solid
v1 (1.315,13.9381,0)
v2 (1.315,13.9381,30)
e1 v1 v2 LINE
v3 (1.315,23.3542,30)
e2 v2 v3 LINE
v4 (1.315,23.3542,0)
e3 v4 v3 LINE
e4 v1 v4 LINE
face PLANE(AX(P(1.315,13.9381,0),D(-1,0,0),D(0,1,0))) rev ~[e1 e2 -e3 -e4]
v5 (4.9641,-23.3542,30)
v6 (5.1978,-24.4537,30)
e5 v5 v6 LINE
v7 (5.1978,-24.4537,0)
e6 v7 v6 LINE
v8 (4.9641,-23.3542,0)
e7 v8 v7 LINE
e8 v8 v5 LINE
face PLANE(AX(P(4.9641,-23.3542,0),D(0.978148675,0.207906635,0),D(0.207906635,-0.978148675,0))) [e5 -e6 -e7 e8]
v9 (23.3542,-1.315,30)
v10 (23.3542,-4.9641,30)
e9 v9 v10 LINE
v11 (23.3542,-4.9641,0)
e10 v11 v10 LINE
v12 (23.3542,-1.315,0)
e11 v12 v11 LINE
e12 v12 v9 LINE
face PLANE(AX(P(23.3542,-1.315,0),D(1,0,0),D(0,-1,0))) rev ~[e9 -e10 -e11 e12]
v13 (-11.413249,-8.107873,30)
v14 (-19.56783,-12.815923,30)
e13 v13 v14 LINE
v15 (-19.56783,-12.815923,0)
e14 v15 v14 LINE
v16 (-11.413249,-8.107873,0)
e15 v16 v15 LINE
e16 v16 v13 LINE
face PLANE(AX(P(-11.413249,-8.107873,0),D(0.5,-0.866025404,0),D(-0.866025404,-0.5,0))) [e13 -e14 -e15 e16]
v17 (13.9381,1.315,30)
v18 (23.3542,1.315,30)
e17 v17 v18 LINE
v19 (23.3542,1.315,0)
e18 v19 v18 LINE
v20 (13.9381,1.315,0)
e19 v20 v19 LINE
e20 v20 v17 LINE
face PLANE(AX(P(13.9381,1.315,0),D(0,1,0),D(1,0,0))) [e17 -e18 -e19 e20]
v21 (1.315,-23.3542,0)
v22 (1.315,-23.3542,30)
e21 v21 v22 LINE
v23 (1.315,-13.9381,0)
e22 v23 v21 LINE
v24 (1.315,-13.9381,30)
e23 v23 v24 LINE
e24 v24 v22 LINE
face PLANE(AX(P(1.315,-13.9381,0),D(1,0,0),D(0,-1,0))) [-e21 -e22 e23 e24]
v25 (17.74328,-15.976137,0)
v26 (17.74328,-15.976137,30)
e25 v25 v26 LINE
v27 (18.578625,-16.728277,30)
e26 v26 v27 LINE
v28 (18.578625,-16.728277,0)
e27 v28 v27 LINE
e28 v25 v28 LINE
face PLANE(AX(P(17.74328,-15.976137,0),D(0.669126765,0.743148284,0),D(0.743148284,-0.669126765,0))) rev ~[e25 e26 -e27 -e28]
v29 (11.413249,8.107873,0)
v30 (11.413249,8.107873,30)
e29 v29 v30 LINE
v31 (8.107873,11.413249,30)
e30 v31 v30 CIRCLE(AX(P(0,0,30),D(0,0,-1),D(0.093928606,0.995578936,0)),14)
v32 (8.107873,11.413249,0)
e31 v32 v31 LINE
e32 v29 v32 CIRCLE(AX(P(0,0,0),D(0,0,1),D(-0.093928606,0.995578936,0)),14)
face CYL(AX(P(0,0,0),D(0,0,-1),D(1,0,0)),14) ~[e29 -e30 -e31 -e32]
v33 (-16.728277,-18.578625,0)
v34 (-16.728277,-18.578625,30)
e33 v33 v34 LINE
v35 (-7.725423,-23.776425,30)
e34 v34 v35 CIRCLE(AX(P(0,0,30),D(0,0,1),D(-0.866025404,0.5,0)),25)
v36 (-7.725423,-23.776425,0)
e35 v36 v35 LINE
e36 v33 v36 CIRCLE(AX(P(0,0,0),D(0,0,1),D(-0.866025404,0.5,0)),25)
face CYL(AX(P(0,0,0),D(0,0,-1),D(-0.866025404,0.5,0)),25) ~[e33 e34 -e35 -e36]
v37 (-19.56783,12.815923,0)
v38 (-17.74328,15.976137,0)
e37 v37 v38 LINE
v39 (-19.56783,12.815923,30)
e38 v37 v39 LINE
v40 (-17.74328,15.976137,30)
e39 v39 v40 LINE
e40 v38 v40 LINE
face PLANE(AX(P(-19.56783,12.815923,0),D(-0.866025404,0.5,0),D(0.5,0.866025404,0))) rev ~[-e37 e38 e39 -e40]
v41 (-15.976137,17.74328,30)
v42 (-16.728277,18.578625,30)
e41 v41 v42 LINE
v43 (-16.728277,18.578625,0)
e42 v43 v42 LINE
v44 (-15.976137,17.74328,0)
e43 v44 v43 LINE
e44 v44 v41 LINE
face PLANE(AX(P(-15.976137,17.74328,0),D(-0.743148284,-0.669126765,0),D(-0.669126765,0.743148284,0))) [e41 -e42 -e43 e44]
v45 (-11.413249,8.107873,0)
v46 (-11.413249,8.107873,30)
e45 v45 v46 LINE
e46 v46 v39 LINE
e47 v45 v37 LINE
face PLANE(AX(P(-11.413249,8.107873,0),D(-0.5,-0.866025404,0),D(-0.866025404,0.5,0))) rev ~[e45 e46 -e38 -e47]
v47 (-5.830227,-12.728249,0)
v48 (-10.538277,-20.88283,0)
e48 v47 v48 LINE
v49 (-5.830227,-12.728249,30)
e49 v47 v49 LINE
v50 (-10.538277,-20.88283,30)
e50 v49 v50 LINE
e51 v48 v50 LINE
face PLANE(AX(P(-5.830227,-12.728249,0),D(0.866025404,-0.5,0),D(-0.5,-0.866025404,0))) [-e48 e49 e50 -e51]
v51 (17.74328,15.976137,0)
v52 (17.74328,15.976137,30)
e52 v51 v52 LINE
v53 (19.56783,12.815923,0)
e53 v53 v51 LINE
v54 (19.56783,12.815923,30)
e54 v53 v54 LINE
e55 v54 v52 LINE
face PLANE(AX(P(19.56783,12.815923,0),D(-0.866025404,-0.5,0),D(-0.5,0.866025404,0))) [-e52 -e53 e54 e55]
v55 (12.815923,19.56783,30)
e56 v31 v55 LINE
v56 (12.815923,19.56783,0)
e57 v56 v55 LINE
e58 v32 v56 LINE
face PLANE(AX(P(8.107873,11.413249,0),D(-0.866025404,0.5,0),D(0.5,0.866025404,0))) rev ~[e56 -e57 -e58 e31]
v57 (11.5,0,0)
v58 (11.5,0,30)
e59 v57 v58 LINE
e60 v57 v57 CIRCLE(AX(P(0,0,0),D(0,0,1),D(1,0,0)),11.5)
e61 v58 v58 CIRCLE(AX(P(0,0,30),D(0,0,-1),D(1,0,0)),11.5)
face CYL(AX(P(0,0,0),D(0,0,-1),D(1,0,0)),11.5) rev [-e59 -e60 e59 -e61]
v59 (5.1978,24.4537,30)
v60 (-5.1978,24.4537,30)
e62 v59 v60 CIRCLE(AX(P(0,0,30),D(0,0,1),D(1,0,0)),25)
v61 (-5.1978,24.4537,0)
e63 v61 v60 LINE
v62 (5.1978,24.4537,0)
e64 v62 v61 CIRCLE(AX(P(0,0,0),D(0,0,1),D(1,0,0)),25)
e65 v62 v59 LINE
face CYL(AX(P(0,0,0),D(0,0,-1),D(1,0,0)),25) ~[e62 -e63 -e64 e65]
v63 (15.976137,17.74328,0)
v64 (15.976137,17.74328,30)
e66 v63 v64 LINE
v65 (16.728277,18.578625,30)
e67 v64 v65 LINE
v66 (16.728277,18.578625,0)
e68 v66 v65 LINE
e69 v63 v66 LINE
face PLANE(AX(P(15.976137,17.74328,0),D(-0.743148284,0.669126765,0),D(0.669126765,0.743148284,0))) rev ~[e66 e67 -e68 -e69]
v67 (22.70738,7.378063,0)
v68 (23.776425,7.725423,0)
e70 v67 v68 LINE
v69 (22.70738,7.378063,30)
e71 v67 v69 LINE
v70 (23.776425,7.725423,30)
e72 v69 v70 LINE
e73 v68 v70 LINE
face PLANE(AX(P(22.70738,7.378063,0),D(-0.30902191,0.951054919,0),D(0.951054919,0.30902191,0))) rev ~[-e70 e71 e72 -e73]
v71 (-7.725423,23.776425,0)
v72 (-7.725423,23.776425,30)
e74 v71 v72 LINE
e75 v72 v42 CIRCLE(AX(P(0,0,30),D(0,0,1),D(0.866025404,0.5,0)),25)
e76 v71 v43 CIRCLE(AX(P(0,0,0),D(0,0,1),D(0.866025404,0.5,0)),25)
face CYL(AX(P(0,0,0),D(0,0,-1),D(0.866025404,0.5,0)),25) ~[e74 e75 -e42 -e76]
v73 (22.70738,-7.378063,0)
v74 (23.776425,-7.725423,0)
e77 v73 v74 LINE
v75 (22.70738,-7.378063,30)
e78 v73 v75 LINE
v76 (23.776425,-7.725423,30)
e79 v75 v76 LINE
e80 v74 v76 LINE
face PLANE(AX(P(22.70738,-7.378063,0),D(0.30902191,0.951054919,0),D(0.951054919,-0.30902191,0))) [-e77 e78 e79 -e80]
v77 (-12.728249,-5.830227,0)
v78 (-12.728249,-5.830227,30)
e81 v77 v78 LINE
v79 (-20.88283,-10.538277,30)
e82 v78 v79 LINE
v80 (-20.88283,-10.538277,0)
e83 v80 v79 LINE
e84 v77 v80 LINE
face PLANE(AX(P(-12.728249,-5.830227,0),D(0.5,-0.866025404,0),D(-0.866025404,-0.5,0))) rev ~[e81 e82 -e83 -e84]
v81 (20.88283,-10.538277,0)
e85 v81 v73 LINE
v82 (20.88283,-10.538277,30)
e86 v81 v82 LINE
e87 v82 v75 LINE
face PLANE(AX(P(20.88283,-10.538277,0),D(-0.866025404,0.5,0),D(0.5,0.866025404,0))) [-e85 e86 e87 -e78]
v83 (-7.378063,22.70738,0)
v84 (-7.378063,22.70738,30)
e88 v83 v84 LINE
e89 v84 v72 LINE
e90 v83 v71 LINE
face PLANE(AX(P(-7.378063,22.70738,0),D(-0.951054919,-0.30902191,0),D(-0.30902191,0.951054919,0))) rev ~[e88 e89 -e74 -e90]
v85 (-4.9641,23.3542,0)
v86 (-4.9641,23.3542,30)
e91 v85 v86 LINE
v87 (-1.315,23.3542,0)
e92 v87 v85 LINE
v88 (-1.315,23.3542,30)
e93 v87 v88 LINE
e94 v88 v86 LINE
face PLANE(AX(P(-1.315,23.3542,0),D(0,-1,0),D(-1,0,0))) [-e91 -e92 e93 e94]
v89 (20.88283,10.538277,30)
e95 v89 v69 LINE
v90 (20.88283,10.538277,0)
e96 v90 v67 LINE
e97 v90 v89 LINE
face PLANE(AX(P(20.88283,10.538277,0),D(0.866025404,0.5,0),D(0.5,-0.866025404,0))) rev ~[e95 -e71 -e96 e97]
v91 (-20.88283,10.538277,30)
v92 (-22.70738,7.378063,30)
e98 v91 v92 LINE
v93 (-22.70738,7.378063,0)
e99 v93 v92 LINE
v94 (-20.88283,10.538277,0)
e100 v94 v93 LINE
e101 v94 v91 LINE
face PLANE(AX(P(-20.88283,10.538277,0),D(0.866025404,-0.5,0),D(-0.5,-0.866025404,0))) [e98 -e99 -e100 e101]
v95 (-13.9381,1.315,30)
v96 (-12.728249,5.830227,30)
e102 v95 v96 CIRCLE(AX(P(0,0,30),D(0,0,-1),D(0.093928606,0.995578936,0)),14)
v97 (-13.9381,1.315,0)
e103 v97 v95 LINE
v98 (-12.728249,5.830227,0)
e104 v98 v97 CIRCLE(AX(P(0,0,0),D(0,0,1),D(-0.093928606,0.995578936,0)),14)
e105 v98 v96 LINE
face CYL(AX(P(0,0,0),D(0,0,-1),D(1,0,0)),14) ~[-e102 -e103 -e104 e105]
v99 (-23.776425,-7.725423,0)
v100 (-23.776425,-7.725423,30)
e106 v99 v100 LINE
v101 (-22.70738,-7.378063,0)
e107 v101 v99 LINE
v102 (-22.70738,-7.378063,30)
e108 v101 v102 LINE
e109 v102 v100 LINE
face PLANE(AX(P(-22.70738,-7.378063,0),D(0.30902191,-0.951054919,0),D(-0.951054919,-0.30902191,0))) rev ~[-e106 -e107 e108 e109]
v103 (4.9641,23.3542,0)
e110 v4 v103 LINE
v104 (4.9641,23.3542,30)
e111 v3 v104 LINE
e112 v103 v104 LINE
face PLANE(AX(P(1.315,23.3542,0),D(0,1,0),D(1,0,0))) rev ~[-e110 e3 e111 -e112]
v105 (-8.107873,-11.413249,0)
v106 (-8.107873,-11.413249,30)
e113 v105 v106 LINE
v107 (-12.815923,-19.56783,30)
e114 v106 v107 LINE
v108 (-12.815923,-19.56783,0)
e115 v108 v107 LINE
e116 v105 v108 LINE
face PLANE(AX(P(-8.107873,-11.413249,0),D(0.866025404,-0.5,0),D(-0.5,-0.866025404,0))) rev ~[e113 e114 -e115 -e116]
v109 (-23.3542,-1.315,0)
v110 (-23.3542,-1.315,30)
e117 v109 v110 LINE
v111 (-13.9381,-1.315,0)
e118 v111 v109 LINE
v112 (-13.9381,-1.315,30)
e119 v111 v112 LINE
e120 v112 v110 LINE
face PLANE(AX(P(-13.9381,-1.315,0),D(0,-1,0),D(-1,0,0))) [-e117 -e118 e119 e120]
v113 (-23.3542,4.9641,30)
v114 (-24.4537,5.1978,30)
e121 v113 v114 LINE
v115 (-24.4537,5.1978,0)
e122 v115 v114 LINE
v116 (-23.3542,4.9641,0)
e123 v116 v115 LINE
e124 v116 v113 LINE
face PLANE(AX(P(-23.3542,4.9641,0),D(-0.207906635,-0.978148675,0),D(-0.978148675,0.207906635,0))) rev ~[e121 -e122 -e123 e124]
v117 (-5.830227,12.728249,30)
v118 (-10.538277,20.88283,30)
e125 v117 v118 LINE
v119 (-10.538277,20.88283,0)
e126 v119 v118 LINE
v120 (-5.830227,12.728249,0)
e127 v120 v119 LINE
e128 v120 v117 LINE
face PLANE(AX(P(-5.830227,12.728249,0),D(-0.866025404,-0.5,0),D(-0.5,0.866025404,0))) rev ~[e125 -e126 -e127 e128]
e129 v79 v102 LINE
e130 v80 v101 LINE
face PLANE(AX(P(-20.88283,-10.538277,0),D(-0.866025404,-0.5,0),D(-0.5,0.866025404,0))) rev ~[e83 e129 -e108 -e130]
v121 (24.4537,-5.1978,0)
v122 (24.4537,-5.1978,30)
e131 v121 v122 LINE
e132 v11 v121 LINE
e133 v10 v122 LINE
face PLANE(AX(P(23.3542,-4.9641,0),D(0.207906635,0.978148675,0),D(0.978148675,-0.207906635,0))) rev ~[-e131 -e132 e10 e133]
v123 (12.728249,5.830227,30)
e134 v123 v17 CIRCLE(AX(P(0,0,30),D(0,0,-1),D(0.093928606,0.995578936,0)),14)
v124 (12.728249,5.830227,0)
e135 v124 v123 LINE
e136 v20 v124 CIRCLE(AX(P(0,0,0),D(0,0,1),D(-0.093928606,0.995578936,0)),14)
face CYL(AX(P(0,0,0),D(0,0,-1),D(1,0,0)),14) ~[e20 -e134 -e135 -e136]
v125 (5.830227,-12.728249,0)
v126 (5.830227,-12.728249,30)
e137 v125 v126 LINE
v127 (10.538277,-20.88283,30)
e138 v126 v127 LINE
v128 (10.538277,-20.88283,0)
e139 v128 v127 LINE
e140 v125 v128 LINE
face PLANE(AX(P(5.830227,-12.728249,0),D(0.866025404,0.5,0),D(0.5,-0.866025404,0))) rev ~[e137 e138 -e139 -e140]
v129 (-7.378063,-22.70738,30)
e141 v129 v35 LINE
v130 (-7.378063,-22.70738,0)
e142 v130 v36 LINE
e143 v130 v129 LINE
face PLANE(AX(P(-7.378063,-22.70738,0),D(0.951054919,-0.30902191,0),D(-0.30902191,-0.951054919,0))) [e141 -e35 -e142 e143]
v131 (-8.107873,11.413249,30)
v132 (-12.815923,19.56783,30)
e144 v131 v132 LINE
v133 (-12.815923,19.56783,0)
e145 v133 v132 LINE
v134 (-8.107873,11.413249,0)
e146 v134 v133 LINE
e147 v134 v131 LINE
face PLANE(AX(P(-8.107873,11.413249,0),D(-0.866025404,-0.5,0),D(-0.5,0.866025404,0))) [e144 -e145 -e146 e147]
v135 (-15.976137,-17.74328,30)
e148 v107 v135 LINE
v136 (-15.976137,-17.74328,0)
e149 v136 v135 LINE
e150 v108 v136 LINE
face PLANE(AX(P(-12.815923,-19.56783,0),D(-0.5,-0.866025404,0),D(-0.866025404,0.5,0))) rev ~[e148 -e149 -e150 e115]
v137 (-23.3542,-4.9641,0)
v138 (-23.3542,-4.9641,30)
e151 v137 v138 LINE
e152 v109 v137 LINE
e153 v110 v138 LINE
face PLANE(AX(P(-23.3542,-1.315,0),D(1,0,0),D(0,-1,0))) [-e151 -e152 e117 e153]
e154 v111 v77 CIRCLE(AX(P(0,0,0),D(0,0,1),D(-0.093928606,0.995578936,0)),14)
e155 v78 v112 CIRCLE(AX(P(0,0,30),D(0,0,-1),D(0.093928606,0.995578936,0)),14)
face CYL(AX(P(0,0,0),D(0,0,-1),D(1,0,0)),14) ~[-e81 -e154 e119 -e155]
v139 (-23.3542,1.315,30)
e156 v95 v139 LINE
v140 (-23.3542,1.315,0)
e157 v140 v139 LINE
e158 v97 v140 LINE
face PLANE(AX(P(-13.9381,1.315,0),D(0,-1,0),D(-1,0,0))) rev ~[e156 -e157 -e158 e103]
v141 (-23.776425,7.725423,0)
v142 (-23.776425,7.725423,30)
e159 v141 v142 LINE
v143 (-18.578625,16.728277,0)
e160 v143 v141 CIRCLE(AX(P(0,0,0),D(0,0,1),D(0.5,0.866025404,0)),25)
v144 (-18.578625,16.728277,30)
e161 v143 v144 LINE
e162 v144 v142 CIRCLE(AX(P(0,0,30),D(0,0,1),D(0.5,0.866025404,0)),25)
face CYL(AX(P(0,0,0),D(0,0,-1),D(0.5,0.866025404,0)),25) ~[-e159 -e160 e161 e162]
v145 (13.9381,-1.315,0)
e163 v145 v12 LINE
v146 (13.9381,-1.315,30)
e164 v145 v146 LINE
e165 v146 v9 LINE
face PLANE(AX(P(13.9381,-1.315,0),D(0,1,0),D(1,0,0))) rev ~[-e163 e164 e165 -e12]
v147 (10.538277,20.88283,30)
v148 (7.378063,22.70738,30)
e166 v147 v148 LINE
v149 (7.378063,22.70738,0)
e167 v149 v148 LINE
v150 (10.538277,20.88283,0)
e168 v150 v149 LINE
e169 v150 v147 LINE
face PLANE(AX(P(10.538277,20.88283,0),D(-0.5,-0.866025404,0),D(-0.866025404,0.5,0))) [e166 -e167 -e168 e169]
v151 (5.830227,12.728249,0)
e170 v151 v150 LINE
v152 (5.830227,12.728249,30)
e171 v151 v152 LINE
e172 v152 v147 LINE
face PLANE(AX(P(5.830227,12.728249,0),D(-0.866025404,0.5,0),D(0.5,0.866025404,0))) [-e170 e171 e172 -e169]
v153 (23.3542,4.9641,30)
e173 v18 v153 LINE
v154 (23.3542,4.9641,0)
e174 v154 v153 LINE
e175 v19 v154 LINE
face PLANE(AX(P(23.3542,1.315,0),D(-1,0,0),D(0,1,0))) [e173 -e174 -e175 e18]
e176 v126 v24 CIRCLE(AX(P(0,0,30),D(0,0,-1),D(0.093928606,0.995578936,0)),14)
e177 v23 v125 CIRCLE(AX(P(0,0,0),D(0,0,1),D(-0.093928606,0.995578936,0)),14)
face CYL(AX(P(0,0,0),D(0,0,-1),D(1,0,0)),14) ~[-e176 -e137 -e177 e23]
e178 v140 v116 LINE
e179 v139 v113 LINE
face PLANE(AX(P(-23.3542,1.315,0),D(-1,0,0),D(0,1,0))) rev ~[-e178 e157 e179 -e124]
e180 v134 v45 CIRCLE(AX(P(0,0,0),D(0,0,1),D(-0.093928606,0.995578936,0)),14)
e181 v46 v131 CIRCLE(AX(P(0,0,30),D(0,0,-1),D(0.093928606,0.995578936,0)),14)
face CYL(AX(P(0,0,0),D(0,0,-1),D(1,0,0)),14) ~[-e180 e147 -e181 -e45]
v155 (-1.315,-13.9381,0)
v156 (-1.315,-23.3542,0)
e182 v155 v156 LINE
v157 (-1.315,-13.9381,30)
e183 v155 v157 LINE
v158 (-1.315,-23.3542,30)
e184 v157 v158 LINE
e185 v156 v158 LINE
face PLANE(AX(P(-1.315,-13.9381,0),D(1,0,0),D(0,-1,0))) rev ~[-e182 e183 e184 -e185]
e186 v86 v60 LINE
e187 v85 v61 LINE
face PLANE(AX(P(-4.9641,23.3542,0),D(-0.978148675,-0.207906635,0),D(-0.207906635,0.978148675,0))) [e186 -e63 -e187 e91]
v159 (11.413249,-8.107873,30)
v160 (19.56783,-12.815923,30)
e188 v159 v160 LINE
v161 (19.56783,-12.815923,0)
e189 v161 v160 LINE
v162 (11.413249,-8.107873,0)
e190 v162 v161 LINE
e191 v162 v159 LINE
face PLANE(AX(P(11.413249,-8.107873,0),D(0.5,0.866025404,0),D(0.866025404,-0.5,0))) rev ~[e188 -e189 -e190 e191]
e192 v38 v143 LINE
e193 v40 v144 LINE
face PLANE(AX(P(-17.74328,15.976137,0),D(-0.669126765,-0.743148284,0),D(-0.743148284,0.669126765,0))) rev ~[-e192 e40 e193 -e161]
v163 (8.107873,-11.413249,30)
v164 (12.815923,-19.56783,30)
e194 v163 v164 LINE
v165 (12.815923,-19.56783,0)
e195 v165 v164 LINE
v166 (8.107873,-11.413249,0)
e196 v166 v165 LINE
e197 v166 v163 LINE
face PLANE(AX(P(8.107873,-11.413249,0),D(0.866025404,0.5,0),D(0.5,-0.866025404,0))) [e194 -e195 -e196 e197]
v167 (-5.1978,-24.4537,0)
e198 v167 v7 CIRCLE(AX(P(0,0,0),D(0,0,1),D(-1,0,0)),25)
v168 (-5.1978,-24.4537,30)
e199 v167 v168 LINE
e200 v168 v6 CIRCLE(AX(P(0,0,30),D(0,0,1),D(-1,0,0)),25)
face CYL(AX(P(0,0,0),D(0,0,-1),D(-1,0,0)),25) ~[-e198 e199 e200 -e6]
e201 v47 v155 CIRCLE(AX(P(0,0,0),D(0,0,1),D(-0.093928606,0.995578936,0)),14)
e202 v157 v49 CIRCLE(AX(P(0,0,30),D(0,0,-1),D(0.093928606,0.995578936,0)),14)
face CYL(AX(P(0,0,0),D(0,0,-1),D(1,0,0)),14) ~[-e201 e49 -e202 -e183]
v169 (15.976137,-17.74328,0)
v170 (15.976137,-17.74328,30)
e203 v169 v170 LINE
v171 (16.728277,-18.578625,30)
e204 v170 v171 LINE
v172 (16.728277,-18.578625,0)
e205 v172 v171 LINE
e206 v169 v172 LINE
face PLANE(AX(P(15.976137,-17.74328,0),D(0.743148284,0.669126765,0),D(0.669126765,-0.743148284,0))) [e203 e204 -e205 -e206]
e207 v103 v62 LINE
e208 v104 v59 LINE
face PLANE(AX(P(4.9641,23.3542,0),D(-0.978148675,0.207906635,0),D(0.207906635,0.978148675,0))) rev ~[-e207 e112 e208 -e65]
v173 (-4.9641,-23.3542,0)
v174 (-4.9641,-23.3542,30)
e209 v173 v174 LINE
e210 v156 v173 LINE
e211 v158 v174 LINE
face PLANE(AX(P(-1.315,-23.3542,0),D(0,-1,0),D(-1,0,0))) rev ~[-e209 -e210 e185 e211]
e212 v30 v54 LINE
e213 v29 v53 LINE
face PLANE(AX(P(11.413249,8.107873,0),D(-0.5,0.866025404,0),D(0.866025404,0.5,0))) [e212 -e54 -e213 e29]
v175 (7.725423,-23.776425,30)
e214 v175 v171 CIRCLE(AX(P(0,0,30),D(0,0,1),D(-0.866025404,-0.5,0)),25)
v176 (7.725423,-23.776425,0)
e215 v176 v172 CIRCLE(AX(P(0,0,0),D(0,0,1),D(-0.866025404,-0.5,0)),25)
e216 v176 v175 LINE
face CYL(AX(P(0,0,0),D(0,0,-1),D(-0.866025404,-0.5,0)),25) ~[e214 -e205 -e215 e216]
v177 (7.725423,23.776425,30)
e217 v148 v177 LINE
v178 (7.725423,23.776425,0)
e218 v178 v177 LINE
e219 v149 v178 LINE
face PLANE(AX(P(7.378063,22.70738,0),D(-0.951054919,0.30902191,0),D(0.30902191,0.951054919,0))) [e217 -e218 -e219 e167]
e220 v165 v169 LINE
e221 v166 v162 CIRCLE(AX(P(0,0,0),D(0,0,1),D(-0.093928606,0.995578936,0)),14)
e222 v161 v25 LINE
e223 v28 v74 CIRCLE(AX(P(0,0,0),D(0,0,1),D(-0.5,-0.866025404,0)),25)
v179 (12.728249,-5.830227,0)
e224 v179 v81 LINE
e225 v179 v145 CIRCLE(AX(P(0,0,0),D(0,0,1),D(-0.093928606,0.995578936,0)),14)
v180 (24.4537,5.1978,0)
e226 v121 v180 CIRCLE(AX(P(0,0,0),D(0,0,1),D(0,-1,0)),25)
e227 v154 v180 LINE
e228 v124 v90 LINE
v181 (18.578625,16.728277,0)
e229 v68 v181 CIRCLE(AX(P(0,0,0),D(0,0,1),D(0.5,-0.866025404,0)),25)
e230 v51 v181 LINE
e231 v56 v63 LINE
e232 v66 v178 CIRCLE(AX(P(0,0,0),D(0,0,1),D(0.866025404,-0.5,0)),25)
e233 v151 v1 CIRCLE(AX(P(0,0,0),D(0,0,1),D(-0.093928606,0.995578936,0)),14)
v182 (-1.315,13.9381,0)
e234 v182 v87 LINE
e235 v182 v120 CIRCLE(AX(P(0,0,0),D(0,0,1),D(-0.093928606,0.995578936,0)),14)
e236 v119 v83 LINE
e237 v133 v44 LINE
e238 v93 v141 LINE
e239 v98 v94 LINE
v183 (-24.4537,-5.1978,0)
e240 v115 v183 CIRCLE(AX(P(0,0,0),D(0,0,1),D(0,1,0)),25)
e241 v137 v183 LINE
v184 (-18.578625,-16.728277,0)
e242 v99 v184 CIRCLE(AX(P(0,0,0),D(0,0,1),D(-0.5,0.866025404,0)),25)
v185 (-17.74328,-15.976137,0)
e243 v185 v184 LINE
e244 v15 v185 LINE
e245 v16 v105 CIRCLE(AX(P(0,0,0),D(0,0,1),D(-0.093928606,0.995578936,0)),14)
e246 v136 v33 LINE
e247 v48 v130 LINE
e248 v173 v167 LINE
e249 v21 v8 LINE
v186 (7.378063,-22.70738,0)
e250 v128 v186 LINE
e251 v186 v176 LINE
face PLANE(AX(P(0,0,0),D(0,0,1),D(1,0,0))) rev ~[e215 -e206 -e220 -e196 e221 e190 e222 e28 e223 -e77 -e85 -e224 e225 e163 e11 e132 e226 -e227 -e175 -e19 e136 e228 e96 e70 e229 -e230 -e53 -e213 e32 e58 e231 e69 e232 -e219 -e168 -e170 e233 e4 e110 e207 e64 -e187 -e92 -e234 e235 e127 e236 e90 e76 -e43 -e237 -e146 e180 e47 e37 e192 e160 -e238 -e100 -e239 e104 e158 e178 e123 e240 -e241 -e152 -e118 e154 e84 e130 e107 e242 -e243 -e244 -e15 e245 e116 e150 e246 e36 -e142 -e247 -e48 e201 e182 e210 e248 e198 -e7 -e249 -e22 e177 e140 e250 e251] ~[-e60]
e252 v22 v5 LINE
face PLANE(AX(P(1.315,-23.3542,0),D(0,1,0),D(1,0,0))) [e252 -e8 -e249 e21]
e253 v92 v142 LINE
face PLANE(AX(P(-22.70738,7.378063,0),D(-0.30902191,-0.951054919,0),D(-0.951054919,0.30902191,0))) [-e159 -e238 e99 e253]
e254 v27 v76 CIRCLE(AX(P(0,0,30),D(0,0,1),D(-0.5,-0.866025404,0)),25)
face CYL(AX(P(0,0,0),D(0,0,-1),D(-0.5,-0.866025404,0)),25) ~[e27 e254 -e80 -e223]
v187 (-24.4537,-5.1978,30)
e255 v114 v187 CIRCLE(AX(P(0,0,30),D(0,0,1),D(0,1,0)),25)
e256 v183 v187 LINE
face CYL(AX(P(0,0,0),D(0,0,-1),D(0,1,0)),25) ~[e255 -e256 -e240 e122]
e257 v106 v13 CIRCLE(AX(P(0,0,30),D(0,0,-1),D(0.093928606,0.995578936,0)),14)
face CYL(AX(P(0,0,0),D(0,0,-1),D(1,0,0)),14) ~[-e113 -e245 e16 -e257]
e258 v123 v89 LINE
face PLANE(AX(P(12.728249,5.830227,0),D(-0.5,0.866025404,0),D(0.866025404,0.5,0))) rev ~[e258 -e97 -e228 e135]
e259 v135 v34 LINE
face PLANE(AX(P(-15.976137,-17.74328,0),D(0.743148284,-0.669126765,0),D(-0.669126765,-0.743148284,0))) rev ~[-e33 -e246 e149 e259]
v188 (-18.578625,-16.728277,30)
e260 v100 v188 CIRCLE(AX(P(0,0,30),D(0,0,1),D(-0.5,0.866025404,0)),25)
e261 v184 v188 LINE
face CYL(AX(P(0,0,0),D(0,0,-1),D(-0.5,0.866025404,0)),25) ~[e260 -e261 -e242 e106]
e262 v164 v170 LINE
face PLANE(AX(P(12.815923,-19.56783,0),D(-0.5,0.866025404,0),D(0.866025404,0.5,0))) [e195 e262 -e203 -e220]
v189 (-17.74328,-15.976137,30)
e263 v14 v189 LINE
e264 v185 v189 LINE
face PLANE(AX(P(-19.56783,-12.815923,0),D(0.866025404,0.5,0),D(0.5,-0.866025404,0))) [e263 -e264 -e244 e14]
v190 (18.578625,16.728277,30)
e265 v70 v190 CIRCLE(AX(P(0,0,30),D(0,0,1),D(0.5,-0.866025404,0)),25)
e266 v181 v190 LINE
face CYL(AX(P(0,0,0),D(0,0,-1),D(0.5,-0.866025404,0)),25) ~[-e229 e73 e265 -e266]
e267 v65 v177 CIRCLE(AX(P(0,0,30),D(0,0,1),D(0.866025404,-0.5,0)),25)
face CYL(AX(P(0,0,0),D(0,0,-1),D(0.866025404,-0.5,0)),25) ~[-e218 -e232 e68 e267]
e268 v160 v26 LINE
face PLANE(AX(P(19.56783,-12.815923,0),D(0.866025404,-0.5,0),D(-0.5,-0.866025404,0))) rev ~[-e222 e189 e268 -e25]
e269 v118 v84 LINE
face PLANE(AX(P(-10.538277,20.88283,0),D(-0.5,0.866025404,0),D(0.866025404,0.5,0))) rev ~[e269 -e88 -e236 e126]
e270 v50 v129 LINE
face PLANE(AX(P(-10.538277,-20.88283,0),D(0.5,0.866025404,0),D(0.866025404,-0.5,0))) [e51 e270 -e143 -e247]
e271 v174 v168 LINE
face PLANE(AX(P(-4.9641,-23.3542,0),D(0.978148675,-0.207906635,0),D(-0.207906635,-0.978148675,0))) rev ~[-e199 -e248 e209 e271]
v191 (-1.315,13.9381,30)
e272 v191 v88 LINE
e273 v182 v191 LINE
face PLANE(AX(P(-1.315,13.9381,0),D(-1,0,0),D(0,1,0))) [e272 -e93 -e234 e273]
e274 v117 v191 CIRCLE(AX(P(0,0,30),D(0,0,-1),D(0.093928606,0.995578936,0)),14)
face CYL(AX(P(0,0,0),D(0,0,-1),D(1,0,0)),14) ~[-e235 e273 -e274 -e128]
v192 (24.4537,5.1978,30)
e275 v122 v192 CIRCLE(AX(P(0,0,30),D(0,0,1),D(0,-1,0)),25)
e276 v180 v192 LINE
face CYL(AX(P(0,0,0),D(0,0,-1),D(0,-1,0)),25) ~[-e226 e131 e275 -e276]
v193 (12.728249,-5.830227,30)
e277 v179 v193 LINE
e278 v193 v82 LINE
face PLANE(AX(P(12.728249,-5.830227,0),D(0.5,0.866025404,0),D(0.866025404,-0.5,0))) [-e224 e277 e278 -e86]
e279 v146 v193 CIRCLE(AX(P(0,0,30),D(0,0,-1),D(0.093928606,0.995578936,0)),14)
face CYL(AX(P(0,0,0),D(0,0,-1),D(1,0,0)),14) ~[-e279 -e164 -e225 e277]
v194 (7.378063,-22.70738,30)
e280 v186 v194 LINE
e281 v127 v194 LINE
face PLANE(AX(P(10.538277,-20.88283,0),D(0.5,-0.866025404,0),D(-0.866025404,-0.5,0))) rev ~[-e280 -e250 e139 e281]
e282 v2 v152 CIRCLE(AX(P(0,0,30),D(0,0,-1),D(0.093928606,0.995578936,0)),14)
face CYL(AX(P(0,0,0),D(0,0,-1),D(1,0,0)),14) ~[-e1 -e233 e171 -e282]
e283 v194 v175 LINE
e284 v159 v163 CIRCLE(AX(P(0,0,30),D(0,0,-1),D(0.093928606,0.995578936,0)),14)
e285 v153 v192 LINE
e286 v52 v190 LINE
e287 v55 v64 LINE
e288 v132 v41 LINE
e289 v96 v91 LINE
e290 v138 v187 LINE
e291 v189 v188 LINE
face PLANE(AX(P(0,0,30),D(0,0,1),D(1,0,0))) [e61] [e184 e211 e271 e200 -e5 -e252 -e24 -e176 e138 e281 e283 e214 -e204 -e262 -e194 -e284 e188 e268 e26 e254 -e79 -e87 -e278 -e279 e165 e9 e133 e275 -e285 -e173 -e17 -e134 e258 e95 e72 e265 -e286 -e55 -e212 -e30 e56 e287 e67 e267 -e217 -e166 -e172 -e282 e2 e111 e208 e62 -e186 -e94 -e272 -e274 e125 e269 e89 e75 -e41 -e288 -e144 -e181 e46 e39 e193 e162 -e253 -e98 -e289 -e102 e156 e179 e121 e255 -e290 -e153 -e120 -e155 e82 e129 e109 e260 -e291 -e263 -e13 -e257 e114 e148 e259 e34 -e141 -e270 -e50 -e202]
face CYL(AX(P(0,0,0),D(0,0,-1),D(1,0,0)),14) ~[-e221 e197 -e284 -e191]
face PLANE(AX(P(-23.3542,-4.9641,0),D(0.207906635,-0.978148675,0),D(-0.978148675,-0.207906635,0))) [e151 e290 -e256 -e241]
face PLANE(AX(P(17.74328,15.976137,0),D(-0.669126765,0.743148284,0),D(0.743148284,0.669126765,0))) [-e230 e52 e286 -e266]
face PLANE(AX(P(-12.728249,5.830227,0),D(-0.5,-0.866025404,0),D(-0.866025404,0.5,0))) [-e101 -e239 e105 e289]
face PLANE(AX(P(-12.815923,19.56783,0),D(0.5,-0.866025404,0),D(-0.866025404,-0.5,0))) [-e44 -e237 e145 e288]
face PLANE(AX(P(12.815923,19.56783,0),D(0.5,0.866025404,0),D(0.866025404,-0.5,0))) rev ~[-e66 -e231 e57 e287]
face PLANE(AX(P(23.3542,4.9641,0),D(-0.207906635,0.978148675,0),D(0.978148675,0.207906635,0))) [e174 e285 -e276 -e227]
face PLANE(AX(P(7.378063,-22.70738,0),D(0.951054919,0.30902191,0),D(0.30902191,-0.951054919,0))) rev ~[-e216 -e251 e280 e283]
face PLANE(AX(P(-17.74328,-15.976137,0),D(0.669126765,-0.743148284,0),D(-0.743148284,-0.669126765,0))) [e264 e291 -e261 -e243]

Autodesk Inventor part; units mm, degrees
ref_plane "YZ Plane" through (0, 0, 0) normal (1, 0, 0) x (0, 1, 0)
ref_plane "XZ Plane" through (0, 0, 0) normal (0, 1, 0) x (-1, 0, 0)
ref_plane "XY Plane" through (0, 0, 0) normal (0, 0, 1) x (1, 0, 0)
sketch "Sketch1" plane through (0, 0, 0) normal (0, 0, 1) x (1, 0, 0)
  circle A0 centre (0, 0) radius 11.5
  circle A1 centre (0, 0) radius 25
  line L0 (-1.315, 13.9381) -> (-1.315, 23.3542)
  line L1 (-1.315, 23.3542) -> (-4.9641, 23.3542)
  line L2 (-4.9641, 23.3542) -> (-5.1978, 24.4537)
  line L3 (1.315, 13.9381) -> (1.315, 23.3542)
  line L4 (1.315, 23.3542) -> (4.9641, 23.3542)
  line L5 (4.9641, 23.3542) -> (5.1978, 24.4537)
  arc A2 (5.1978, 24.4537) -> (-5.1978, 24.4537) centre (0, 0) ccw
  circle A3 centre (0, 0) radius 14
  line L6 (-8.1079, 11.4133) -> (-12.8159, 19.5679)
  line L7 (-12.8159, 19.5679) -> (-15.9762, 17.7433)
  line L8 (-15.9762, 17.7433) -> (-16.7283, 18.5786)
  line L9 (-5.8303, 12.7282) -> (-10.5383, 20.8829)
  line L10 (-10.5383, 20.8829) -> (-7.3781, 22.7074)
  line L11 (-7.3781, 22.7074) -> (-7.7254, 23.7764)
  arc A4 (-7.7254, 23.7764) -> (-16.7283, 18.5786) centre (0, 0) ccw
  line L12 (-12.7282, 5.8303) -> (-20.8829, 10.5383)
  line L13 (-20.8829, 10.5383) -> (-22.7074, 7.3781)
  line L14 (-22.7074, 7.3781) -> (-23.7764, 7.7254)
  line L15 (-11.4133, 8.1079) -> (-19.5679, 12.8159)
  line L16 (-19.5679, 12.8159) -> (-17.7433, 15.9762)
  line L17 (-17.7433, 15.9762) -> (-18.5786, 16.7283)
  arc A5 (-18.5786, 16.7283) -> (-23.7764, 7.7254) centre (0, 0) ccw
  line L18 (-13.9381, -1.315) -> (-23.3542, -1.315)
  line L19 (-23.3542, -1.315) -> (-23.3542, -4.9641)
  line L20 (-23.3542, -4.9641) -> (-24.4537, -5.1978)
  line L21 (-13.9381, 1.315) -> (-23.3542, 1.315)
  line L22 (-23.3542, 1.315) -> (-23.3542, 4.9641)
  line L23 (-23.3542, 4.9641) -> (-24.4537, 5.1978)
  arc A6 (-24.4537, 5.1978) -> (-24.4537, -5.1978) centre (0, 0) ccw
  line L24 (-11.4133, -8.1079) -> (-19.5679, -12.8159)
  line L25 (-19.5679, -12.8159) -> (-17.7433, -15.9762)
  line L26 (-17.7433, -15.9762) -> (-18.5786, -16.7283)
  line L27 (-12.7282, -5.8303) -> (-20.8829, -10.5383)
  line L28 (-20.8829, -10.5383) -> (-22.7074, -7.3781)
  line L29 (-22.7074, -7.3781) -> (-23.7764, -7.7254)
  arc A7 (-23.7764, -7.7254) -> (-18.5786, -16.7283) centre (0, 0) ccw
  line L30 (-5.8303, -12.7282) -> (-10.5383, -20.8829)
  line L31 (-10.5383, -20.8829) -> (-7.3781, -22.7074)
  line L32 (-7.3781, -22.7074) -> (-7.7254, -23.7764)
  line L33 (-8.1079, -11.4133) -> (-12.8159, -19.5679)
  line L34 (-12.8159, -19.5679) -> (-15.9762, -17.7433)
  line L35 (-15.9762, -17.7433) -> (-16.7283, -18.5786)
  arc A8 (-16.7283, -18.5786) -> (-7.7254, -23.7764) centre (0, 0) ccw
  line L36 (1.315, -13.9381) -> (1.315, -23.3542)
  line L37 (1.315, -23.3542) -> (4.9641, -23.3542)
  line L38 (4.9641, -23.3542) -> (5.1978, -24.4537)
  line L39 (-1.315, -13.9381) -> (-1.315, -23.3542)
  line L40 (-1.315, -23.3542) -> (-4.9641, -23.3542)
  line L41 (-4.9641, -23.3542) -> (-5.1978, -24.4537)
  arc A9 (-5.1978, -24.4537) -> (5.1978, -24.4537) centre (0, 0) ccw
  line L42 (8.1079, -11.4133) -> (12.8159, -19.5679)
  line L43 (12.8159, -19.5679) -> (15.9762, -17.7433)
  line L44 (15.9762, -17.7433) -> (16.7283, -18.5786)
  line L45 (5.8303, -12.7282) -> (10.5383, -20.8829)
  line L46 (10.5383, -20.8829) -> (7.3781, -22.7074)
  line L47 (7.3781, -22.7074) -> (7.7254, -23.7764)
  arc A10 (7.7254, -23.7764) -> (16.7283, -18.5786) centre (0, 0) ccw
  line L48 (12.7282, -5.8303) -> (20.8829, -10.5383)
  line L49 (20.8829, -10.5383) -> (22.7074, -7.3781)
  line L50 (22.7074, -7.3781) -> (23.7764, -7.7254)
  line L51 (11.4133, -8.1079) -> (19.5679, -12.8159)
  line L52 (19.5679, -12.8159) -> (17.7433, -15.9762)
  line L53 (17.7433, -15.9762) -> (18.5786, -16.7283)
  arc A11 (18.5786, -16.7283) -> (23.7764, -7.7254) centre (0, 0) ccw
  line L54 (13.9381, 1.315) -> (23.3542, 1.315)
  line L55 (23.3542, 1.315) -> (23.3542, 4.9641)
  line L56 (23.3542, 4.9641) -> (24.4537, 5.1978)
  line L57 (13.9381, -1.315) -> (23.3542, -1.315)
  line L58 (23.3542, -1.315) -> (23.3542, -4.9641)
  line L59 (23.3542, -4.9641) -> (24.4537, -5.1978)
  arc A12 (24.4537, -5.1978) -> (24.4537, 5.1978) centre (0, 0) ccw
  line L60 (11.4133, 8.1079) -> (19.5679, 12.8159)
  line L61 (19.5679, 12.8159) -> (17.7433, 15.9762)
  line L62 (17.7433, 15.9762) -> (18.5786, 16.7283)
  line L63 (12.7282, 5.8303) -> (20.8829, 10.5383)
  line L64 (20.8829, 10.5383) -> (22.7074, 7.3781)
  line L65 (22.7074, 7.3781) -> (23.7764, 7.7254)
  arc A13 (23.7764, 7.7254) -> (18.5786, 16.7283) centre (0, 0) ccw
  line L66 (5.8303, 12.7282) -> (10.5383, 20.8829)
  line L67 (10.5383, 20.8829) -> (7.3781, 22.7074)
  line L68 (7.3781, 22.7074) -> (7.7254, 23.7764)
  line L69 (8.1079, 11.4133) -> (12.8159, 19.5679)
  line L70 (12.8159, 19.5679) -> (15.9762, 17.7433)
  line L71 (15.9762, 17.7433) -> (16.7283, 18.5786)
  arc A14 (16.7283, 18.5786) -> (7.7254, 23.7764) centre (0, 0) ccw
  dimension "d1" = 50
  dimension "d0" = 23
  dimension "d2" = 24
  dimension "d3" = 28
  dimension "d6" = 360
extrude "Extrusion1" add sketch "Sketch1" along normal blind 30 contours A3 | L5 L4 L3 A3 L0 L1 L2 A1
pattern_circular "Circular Pattern1" count 12 over 360 about axis through (0, 0, -10) along (0, 0, 1) of "Extrusion1"
equation "\"d1\" = stator_diameter"
equation "\"d0\" = stator_id"
equation "\"d8\" = stator_length"
equation "\"stator_length\" = 30"
equation "\"stator_id\" = 23"
equation "\"stator_diameter\" = 50"
properties part number "Stator" material "Steel, Mild, Welded"
